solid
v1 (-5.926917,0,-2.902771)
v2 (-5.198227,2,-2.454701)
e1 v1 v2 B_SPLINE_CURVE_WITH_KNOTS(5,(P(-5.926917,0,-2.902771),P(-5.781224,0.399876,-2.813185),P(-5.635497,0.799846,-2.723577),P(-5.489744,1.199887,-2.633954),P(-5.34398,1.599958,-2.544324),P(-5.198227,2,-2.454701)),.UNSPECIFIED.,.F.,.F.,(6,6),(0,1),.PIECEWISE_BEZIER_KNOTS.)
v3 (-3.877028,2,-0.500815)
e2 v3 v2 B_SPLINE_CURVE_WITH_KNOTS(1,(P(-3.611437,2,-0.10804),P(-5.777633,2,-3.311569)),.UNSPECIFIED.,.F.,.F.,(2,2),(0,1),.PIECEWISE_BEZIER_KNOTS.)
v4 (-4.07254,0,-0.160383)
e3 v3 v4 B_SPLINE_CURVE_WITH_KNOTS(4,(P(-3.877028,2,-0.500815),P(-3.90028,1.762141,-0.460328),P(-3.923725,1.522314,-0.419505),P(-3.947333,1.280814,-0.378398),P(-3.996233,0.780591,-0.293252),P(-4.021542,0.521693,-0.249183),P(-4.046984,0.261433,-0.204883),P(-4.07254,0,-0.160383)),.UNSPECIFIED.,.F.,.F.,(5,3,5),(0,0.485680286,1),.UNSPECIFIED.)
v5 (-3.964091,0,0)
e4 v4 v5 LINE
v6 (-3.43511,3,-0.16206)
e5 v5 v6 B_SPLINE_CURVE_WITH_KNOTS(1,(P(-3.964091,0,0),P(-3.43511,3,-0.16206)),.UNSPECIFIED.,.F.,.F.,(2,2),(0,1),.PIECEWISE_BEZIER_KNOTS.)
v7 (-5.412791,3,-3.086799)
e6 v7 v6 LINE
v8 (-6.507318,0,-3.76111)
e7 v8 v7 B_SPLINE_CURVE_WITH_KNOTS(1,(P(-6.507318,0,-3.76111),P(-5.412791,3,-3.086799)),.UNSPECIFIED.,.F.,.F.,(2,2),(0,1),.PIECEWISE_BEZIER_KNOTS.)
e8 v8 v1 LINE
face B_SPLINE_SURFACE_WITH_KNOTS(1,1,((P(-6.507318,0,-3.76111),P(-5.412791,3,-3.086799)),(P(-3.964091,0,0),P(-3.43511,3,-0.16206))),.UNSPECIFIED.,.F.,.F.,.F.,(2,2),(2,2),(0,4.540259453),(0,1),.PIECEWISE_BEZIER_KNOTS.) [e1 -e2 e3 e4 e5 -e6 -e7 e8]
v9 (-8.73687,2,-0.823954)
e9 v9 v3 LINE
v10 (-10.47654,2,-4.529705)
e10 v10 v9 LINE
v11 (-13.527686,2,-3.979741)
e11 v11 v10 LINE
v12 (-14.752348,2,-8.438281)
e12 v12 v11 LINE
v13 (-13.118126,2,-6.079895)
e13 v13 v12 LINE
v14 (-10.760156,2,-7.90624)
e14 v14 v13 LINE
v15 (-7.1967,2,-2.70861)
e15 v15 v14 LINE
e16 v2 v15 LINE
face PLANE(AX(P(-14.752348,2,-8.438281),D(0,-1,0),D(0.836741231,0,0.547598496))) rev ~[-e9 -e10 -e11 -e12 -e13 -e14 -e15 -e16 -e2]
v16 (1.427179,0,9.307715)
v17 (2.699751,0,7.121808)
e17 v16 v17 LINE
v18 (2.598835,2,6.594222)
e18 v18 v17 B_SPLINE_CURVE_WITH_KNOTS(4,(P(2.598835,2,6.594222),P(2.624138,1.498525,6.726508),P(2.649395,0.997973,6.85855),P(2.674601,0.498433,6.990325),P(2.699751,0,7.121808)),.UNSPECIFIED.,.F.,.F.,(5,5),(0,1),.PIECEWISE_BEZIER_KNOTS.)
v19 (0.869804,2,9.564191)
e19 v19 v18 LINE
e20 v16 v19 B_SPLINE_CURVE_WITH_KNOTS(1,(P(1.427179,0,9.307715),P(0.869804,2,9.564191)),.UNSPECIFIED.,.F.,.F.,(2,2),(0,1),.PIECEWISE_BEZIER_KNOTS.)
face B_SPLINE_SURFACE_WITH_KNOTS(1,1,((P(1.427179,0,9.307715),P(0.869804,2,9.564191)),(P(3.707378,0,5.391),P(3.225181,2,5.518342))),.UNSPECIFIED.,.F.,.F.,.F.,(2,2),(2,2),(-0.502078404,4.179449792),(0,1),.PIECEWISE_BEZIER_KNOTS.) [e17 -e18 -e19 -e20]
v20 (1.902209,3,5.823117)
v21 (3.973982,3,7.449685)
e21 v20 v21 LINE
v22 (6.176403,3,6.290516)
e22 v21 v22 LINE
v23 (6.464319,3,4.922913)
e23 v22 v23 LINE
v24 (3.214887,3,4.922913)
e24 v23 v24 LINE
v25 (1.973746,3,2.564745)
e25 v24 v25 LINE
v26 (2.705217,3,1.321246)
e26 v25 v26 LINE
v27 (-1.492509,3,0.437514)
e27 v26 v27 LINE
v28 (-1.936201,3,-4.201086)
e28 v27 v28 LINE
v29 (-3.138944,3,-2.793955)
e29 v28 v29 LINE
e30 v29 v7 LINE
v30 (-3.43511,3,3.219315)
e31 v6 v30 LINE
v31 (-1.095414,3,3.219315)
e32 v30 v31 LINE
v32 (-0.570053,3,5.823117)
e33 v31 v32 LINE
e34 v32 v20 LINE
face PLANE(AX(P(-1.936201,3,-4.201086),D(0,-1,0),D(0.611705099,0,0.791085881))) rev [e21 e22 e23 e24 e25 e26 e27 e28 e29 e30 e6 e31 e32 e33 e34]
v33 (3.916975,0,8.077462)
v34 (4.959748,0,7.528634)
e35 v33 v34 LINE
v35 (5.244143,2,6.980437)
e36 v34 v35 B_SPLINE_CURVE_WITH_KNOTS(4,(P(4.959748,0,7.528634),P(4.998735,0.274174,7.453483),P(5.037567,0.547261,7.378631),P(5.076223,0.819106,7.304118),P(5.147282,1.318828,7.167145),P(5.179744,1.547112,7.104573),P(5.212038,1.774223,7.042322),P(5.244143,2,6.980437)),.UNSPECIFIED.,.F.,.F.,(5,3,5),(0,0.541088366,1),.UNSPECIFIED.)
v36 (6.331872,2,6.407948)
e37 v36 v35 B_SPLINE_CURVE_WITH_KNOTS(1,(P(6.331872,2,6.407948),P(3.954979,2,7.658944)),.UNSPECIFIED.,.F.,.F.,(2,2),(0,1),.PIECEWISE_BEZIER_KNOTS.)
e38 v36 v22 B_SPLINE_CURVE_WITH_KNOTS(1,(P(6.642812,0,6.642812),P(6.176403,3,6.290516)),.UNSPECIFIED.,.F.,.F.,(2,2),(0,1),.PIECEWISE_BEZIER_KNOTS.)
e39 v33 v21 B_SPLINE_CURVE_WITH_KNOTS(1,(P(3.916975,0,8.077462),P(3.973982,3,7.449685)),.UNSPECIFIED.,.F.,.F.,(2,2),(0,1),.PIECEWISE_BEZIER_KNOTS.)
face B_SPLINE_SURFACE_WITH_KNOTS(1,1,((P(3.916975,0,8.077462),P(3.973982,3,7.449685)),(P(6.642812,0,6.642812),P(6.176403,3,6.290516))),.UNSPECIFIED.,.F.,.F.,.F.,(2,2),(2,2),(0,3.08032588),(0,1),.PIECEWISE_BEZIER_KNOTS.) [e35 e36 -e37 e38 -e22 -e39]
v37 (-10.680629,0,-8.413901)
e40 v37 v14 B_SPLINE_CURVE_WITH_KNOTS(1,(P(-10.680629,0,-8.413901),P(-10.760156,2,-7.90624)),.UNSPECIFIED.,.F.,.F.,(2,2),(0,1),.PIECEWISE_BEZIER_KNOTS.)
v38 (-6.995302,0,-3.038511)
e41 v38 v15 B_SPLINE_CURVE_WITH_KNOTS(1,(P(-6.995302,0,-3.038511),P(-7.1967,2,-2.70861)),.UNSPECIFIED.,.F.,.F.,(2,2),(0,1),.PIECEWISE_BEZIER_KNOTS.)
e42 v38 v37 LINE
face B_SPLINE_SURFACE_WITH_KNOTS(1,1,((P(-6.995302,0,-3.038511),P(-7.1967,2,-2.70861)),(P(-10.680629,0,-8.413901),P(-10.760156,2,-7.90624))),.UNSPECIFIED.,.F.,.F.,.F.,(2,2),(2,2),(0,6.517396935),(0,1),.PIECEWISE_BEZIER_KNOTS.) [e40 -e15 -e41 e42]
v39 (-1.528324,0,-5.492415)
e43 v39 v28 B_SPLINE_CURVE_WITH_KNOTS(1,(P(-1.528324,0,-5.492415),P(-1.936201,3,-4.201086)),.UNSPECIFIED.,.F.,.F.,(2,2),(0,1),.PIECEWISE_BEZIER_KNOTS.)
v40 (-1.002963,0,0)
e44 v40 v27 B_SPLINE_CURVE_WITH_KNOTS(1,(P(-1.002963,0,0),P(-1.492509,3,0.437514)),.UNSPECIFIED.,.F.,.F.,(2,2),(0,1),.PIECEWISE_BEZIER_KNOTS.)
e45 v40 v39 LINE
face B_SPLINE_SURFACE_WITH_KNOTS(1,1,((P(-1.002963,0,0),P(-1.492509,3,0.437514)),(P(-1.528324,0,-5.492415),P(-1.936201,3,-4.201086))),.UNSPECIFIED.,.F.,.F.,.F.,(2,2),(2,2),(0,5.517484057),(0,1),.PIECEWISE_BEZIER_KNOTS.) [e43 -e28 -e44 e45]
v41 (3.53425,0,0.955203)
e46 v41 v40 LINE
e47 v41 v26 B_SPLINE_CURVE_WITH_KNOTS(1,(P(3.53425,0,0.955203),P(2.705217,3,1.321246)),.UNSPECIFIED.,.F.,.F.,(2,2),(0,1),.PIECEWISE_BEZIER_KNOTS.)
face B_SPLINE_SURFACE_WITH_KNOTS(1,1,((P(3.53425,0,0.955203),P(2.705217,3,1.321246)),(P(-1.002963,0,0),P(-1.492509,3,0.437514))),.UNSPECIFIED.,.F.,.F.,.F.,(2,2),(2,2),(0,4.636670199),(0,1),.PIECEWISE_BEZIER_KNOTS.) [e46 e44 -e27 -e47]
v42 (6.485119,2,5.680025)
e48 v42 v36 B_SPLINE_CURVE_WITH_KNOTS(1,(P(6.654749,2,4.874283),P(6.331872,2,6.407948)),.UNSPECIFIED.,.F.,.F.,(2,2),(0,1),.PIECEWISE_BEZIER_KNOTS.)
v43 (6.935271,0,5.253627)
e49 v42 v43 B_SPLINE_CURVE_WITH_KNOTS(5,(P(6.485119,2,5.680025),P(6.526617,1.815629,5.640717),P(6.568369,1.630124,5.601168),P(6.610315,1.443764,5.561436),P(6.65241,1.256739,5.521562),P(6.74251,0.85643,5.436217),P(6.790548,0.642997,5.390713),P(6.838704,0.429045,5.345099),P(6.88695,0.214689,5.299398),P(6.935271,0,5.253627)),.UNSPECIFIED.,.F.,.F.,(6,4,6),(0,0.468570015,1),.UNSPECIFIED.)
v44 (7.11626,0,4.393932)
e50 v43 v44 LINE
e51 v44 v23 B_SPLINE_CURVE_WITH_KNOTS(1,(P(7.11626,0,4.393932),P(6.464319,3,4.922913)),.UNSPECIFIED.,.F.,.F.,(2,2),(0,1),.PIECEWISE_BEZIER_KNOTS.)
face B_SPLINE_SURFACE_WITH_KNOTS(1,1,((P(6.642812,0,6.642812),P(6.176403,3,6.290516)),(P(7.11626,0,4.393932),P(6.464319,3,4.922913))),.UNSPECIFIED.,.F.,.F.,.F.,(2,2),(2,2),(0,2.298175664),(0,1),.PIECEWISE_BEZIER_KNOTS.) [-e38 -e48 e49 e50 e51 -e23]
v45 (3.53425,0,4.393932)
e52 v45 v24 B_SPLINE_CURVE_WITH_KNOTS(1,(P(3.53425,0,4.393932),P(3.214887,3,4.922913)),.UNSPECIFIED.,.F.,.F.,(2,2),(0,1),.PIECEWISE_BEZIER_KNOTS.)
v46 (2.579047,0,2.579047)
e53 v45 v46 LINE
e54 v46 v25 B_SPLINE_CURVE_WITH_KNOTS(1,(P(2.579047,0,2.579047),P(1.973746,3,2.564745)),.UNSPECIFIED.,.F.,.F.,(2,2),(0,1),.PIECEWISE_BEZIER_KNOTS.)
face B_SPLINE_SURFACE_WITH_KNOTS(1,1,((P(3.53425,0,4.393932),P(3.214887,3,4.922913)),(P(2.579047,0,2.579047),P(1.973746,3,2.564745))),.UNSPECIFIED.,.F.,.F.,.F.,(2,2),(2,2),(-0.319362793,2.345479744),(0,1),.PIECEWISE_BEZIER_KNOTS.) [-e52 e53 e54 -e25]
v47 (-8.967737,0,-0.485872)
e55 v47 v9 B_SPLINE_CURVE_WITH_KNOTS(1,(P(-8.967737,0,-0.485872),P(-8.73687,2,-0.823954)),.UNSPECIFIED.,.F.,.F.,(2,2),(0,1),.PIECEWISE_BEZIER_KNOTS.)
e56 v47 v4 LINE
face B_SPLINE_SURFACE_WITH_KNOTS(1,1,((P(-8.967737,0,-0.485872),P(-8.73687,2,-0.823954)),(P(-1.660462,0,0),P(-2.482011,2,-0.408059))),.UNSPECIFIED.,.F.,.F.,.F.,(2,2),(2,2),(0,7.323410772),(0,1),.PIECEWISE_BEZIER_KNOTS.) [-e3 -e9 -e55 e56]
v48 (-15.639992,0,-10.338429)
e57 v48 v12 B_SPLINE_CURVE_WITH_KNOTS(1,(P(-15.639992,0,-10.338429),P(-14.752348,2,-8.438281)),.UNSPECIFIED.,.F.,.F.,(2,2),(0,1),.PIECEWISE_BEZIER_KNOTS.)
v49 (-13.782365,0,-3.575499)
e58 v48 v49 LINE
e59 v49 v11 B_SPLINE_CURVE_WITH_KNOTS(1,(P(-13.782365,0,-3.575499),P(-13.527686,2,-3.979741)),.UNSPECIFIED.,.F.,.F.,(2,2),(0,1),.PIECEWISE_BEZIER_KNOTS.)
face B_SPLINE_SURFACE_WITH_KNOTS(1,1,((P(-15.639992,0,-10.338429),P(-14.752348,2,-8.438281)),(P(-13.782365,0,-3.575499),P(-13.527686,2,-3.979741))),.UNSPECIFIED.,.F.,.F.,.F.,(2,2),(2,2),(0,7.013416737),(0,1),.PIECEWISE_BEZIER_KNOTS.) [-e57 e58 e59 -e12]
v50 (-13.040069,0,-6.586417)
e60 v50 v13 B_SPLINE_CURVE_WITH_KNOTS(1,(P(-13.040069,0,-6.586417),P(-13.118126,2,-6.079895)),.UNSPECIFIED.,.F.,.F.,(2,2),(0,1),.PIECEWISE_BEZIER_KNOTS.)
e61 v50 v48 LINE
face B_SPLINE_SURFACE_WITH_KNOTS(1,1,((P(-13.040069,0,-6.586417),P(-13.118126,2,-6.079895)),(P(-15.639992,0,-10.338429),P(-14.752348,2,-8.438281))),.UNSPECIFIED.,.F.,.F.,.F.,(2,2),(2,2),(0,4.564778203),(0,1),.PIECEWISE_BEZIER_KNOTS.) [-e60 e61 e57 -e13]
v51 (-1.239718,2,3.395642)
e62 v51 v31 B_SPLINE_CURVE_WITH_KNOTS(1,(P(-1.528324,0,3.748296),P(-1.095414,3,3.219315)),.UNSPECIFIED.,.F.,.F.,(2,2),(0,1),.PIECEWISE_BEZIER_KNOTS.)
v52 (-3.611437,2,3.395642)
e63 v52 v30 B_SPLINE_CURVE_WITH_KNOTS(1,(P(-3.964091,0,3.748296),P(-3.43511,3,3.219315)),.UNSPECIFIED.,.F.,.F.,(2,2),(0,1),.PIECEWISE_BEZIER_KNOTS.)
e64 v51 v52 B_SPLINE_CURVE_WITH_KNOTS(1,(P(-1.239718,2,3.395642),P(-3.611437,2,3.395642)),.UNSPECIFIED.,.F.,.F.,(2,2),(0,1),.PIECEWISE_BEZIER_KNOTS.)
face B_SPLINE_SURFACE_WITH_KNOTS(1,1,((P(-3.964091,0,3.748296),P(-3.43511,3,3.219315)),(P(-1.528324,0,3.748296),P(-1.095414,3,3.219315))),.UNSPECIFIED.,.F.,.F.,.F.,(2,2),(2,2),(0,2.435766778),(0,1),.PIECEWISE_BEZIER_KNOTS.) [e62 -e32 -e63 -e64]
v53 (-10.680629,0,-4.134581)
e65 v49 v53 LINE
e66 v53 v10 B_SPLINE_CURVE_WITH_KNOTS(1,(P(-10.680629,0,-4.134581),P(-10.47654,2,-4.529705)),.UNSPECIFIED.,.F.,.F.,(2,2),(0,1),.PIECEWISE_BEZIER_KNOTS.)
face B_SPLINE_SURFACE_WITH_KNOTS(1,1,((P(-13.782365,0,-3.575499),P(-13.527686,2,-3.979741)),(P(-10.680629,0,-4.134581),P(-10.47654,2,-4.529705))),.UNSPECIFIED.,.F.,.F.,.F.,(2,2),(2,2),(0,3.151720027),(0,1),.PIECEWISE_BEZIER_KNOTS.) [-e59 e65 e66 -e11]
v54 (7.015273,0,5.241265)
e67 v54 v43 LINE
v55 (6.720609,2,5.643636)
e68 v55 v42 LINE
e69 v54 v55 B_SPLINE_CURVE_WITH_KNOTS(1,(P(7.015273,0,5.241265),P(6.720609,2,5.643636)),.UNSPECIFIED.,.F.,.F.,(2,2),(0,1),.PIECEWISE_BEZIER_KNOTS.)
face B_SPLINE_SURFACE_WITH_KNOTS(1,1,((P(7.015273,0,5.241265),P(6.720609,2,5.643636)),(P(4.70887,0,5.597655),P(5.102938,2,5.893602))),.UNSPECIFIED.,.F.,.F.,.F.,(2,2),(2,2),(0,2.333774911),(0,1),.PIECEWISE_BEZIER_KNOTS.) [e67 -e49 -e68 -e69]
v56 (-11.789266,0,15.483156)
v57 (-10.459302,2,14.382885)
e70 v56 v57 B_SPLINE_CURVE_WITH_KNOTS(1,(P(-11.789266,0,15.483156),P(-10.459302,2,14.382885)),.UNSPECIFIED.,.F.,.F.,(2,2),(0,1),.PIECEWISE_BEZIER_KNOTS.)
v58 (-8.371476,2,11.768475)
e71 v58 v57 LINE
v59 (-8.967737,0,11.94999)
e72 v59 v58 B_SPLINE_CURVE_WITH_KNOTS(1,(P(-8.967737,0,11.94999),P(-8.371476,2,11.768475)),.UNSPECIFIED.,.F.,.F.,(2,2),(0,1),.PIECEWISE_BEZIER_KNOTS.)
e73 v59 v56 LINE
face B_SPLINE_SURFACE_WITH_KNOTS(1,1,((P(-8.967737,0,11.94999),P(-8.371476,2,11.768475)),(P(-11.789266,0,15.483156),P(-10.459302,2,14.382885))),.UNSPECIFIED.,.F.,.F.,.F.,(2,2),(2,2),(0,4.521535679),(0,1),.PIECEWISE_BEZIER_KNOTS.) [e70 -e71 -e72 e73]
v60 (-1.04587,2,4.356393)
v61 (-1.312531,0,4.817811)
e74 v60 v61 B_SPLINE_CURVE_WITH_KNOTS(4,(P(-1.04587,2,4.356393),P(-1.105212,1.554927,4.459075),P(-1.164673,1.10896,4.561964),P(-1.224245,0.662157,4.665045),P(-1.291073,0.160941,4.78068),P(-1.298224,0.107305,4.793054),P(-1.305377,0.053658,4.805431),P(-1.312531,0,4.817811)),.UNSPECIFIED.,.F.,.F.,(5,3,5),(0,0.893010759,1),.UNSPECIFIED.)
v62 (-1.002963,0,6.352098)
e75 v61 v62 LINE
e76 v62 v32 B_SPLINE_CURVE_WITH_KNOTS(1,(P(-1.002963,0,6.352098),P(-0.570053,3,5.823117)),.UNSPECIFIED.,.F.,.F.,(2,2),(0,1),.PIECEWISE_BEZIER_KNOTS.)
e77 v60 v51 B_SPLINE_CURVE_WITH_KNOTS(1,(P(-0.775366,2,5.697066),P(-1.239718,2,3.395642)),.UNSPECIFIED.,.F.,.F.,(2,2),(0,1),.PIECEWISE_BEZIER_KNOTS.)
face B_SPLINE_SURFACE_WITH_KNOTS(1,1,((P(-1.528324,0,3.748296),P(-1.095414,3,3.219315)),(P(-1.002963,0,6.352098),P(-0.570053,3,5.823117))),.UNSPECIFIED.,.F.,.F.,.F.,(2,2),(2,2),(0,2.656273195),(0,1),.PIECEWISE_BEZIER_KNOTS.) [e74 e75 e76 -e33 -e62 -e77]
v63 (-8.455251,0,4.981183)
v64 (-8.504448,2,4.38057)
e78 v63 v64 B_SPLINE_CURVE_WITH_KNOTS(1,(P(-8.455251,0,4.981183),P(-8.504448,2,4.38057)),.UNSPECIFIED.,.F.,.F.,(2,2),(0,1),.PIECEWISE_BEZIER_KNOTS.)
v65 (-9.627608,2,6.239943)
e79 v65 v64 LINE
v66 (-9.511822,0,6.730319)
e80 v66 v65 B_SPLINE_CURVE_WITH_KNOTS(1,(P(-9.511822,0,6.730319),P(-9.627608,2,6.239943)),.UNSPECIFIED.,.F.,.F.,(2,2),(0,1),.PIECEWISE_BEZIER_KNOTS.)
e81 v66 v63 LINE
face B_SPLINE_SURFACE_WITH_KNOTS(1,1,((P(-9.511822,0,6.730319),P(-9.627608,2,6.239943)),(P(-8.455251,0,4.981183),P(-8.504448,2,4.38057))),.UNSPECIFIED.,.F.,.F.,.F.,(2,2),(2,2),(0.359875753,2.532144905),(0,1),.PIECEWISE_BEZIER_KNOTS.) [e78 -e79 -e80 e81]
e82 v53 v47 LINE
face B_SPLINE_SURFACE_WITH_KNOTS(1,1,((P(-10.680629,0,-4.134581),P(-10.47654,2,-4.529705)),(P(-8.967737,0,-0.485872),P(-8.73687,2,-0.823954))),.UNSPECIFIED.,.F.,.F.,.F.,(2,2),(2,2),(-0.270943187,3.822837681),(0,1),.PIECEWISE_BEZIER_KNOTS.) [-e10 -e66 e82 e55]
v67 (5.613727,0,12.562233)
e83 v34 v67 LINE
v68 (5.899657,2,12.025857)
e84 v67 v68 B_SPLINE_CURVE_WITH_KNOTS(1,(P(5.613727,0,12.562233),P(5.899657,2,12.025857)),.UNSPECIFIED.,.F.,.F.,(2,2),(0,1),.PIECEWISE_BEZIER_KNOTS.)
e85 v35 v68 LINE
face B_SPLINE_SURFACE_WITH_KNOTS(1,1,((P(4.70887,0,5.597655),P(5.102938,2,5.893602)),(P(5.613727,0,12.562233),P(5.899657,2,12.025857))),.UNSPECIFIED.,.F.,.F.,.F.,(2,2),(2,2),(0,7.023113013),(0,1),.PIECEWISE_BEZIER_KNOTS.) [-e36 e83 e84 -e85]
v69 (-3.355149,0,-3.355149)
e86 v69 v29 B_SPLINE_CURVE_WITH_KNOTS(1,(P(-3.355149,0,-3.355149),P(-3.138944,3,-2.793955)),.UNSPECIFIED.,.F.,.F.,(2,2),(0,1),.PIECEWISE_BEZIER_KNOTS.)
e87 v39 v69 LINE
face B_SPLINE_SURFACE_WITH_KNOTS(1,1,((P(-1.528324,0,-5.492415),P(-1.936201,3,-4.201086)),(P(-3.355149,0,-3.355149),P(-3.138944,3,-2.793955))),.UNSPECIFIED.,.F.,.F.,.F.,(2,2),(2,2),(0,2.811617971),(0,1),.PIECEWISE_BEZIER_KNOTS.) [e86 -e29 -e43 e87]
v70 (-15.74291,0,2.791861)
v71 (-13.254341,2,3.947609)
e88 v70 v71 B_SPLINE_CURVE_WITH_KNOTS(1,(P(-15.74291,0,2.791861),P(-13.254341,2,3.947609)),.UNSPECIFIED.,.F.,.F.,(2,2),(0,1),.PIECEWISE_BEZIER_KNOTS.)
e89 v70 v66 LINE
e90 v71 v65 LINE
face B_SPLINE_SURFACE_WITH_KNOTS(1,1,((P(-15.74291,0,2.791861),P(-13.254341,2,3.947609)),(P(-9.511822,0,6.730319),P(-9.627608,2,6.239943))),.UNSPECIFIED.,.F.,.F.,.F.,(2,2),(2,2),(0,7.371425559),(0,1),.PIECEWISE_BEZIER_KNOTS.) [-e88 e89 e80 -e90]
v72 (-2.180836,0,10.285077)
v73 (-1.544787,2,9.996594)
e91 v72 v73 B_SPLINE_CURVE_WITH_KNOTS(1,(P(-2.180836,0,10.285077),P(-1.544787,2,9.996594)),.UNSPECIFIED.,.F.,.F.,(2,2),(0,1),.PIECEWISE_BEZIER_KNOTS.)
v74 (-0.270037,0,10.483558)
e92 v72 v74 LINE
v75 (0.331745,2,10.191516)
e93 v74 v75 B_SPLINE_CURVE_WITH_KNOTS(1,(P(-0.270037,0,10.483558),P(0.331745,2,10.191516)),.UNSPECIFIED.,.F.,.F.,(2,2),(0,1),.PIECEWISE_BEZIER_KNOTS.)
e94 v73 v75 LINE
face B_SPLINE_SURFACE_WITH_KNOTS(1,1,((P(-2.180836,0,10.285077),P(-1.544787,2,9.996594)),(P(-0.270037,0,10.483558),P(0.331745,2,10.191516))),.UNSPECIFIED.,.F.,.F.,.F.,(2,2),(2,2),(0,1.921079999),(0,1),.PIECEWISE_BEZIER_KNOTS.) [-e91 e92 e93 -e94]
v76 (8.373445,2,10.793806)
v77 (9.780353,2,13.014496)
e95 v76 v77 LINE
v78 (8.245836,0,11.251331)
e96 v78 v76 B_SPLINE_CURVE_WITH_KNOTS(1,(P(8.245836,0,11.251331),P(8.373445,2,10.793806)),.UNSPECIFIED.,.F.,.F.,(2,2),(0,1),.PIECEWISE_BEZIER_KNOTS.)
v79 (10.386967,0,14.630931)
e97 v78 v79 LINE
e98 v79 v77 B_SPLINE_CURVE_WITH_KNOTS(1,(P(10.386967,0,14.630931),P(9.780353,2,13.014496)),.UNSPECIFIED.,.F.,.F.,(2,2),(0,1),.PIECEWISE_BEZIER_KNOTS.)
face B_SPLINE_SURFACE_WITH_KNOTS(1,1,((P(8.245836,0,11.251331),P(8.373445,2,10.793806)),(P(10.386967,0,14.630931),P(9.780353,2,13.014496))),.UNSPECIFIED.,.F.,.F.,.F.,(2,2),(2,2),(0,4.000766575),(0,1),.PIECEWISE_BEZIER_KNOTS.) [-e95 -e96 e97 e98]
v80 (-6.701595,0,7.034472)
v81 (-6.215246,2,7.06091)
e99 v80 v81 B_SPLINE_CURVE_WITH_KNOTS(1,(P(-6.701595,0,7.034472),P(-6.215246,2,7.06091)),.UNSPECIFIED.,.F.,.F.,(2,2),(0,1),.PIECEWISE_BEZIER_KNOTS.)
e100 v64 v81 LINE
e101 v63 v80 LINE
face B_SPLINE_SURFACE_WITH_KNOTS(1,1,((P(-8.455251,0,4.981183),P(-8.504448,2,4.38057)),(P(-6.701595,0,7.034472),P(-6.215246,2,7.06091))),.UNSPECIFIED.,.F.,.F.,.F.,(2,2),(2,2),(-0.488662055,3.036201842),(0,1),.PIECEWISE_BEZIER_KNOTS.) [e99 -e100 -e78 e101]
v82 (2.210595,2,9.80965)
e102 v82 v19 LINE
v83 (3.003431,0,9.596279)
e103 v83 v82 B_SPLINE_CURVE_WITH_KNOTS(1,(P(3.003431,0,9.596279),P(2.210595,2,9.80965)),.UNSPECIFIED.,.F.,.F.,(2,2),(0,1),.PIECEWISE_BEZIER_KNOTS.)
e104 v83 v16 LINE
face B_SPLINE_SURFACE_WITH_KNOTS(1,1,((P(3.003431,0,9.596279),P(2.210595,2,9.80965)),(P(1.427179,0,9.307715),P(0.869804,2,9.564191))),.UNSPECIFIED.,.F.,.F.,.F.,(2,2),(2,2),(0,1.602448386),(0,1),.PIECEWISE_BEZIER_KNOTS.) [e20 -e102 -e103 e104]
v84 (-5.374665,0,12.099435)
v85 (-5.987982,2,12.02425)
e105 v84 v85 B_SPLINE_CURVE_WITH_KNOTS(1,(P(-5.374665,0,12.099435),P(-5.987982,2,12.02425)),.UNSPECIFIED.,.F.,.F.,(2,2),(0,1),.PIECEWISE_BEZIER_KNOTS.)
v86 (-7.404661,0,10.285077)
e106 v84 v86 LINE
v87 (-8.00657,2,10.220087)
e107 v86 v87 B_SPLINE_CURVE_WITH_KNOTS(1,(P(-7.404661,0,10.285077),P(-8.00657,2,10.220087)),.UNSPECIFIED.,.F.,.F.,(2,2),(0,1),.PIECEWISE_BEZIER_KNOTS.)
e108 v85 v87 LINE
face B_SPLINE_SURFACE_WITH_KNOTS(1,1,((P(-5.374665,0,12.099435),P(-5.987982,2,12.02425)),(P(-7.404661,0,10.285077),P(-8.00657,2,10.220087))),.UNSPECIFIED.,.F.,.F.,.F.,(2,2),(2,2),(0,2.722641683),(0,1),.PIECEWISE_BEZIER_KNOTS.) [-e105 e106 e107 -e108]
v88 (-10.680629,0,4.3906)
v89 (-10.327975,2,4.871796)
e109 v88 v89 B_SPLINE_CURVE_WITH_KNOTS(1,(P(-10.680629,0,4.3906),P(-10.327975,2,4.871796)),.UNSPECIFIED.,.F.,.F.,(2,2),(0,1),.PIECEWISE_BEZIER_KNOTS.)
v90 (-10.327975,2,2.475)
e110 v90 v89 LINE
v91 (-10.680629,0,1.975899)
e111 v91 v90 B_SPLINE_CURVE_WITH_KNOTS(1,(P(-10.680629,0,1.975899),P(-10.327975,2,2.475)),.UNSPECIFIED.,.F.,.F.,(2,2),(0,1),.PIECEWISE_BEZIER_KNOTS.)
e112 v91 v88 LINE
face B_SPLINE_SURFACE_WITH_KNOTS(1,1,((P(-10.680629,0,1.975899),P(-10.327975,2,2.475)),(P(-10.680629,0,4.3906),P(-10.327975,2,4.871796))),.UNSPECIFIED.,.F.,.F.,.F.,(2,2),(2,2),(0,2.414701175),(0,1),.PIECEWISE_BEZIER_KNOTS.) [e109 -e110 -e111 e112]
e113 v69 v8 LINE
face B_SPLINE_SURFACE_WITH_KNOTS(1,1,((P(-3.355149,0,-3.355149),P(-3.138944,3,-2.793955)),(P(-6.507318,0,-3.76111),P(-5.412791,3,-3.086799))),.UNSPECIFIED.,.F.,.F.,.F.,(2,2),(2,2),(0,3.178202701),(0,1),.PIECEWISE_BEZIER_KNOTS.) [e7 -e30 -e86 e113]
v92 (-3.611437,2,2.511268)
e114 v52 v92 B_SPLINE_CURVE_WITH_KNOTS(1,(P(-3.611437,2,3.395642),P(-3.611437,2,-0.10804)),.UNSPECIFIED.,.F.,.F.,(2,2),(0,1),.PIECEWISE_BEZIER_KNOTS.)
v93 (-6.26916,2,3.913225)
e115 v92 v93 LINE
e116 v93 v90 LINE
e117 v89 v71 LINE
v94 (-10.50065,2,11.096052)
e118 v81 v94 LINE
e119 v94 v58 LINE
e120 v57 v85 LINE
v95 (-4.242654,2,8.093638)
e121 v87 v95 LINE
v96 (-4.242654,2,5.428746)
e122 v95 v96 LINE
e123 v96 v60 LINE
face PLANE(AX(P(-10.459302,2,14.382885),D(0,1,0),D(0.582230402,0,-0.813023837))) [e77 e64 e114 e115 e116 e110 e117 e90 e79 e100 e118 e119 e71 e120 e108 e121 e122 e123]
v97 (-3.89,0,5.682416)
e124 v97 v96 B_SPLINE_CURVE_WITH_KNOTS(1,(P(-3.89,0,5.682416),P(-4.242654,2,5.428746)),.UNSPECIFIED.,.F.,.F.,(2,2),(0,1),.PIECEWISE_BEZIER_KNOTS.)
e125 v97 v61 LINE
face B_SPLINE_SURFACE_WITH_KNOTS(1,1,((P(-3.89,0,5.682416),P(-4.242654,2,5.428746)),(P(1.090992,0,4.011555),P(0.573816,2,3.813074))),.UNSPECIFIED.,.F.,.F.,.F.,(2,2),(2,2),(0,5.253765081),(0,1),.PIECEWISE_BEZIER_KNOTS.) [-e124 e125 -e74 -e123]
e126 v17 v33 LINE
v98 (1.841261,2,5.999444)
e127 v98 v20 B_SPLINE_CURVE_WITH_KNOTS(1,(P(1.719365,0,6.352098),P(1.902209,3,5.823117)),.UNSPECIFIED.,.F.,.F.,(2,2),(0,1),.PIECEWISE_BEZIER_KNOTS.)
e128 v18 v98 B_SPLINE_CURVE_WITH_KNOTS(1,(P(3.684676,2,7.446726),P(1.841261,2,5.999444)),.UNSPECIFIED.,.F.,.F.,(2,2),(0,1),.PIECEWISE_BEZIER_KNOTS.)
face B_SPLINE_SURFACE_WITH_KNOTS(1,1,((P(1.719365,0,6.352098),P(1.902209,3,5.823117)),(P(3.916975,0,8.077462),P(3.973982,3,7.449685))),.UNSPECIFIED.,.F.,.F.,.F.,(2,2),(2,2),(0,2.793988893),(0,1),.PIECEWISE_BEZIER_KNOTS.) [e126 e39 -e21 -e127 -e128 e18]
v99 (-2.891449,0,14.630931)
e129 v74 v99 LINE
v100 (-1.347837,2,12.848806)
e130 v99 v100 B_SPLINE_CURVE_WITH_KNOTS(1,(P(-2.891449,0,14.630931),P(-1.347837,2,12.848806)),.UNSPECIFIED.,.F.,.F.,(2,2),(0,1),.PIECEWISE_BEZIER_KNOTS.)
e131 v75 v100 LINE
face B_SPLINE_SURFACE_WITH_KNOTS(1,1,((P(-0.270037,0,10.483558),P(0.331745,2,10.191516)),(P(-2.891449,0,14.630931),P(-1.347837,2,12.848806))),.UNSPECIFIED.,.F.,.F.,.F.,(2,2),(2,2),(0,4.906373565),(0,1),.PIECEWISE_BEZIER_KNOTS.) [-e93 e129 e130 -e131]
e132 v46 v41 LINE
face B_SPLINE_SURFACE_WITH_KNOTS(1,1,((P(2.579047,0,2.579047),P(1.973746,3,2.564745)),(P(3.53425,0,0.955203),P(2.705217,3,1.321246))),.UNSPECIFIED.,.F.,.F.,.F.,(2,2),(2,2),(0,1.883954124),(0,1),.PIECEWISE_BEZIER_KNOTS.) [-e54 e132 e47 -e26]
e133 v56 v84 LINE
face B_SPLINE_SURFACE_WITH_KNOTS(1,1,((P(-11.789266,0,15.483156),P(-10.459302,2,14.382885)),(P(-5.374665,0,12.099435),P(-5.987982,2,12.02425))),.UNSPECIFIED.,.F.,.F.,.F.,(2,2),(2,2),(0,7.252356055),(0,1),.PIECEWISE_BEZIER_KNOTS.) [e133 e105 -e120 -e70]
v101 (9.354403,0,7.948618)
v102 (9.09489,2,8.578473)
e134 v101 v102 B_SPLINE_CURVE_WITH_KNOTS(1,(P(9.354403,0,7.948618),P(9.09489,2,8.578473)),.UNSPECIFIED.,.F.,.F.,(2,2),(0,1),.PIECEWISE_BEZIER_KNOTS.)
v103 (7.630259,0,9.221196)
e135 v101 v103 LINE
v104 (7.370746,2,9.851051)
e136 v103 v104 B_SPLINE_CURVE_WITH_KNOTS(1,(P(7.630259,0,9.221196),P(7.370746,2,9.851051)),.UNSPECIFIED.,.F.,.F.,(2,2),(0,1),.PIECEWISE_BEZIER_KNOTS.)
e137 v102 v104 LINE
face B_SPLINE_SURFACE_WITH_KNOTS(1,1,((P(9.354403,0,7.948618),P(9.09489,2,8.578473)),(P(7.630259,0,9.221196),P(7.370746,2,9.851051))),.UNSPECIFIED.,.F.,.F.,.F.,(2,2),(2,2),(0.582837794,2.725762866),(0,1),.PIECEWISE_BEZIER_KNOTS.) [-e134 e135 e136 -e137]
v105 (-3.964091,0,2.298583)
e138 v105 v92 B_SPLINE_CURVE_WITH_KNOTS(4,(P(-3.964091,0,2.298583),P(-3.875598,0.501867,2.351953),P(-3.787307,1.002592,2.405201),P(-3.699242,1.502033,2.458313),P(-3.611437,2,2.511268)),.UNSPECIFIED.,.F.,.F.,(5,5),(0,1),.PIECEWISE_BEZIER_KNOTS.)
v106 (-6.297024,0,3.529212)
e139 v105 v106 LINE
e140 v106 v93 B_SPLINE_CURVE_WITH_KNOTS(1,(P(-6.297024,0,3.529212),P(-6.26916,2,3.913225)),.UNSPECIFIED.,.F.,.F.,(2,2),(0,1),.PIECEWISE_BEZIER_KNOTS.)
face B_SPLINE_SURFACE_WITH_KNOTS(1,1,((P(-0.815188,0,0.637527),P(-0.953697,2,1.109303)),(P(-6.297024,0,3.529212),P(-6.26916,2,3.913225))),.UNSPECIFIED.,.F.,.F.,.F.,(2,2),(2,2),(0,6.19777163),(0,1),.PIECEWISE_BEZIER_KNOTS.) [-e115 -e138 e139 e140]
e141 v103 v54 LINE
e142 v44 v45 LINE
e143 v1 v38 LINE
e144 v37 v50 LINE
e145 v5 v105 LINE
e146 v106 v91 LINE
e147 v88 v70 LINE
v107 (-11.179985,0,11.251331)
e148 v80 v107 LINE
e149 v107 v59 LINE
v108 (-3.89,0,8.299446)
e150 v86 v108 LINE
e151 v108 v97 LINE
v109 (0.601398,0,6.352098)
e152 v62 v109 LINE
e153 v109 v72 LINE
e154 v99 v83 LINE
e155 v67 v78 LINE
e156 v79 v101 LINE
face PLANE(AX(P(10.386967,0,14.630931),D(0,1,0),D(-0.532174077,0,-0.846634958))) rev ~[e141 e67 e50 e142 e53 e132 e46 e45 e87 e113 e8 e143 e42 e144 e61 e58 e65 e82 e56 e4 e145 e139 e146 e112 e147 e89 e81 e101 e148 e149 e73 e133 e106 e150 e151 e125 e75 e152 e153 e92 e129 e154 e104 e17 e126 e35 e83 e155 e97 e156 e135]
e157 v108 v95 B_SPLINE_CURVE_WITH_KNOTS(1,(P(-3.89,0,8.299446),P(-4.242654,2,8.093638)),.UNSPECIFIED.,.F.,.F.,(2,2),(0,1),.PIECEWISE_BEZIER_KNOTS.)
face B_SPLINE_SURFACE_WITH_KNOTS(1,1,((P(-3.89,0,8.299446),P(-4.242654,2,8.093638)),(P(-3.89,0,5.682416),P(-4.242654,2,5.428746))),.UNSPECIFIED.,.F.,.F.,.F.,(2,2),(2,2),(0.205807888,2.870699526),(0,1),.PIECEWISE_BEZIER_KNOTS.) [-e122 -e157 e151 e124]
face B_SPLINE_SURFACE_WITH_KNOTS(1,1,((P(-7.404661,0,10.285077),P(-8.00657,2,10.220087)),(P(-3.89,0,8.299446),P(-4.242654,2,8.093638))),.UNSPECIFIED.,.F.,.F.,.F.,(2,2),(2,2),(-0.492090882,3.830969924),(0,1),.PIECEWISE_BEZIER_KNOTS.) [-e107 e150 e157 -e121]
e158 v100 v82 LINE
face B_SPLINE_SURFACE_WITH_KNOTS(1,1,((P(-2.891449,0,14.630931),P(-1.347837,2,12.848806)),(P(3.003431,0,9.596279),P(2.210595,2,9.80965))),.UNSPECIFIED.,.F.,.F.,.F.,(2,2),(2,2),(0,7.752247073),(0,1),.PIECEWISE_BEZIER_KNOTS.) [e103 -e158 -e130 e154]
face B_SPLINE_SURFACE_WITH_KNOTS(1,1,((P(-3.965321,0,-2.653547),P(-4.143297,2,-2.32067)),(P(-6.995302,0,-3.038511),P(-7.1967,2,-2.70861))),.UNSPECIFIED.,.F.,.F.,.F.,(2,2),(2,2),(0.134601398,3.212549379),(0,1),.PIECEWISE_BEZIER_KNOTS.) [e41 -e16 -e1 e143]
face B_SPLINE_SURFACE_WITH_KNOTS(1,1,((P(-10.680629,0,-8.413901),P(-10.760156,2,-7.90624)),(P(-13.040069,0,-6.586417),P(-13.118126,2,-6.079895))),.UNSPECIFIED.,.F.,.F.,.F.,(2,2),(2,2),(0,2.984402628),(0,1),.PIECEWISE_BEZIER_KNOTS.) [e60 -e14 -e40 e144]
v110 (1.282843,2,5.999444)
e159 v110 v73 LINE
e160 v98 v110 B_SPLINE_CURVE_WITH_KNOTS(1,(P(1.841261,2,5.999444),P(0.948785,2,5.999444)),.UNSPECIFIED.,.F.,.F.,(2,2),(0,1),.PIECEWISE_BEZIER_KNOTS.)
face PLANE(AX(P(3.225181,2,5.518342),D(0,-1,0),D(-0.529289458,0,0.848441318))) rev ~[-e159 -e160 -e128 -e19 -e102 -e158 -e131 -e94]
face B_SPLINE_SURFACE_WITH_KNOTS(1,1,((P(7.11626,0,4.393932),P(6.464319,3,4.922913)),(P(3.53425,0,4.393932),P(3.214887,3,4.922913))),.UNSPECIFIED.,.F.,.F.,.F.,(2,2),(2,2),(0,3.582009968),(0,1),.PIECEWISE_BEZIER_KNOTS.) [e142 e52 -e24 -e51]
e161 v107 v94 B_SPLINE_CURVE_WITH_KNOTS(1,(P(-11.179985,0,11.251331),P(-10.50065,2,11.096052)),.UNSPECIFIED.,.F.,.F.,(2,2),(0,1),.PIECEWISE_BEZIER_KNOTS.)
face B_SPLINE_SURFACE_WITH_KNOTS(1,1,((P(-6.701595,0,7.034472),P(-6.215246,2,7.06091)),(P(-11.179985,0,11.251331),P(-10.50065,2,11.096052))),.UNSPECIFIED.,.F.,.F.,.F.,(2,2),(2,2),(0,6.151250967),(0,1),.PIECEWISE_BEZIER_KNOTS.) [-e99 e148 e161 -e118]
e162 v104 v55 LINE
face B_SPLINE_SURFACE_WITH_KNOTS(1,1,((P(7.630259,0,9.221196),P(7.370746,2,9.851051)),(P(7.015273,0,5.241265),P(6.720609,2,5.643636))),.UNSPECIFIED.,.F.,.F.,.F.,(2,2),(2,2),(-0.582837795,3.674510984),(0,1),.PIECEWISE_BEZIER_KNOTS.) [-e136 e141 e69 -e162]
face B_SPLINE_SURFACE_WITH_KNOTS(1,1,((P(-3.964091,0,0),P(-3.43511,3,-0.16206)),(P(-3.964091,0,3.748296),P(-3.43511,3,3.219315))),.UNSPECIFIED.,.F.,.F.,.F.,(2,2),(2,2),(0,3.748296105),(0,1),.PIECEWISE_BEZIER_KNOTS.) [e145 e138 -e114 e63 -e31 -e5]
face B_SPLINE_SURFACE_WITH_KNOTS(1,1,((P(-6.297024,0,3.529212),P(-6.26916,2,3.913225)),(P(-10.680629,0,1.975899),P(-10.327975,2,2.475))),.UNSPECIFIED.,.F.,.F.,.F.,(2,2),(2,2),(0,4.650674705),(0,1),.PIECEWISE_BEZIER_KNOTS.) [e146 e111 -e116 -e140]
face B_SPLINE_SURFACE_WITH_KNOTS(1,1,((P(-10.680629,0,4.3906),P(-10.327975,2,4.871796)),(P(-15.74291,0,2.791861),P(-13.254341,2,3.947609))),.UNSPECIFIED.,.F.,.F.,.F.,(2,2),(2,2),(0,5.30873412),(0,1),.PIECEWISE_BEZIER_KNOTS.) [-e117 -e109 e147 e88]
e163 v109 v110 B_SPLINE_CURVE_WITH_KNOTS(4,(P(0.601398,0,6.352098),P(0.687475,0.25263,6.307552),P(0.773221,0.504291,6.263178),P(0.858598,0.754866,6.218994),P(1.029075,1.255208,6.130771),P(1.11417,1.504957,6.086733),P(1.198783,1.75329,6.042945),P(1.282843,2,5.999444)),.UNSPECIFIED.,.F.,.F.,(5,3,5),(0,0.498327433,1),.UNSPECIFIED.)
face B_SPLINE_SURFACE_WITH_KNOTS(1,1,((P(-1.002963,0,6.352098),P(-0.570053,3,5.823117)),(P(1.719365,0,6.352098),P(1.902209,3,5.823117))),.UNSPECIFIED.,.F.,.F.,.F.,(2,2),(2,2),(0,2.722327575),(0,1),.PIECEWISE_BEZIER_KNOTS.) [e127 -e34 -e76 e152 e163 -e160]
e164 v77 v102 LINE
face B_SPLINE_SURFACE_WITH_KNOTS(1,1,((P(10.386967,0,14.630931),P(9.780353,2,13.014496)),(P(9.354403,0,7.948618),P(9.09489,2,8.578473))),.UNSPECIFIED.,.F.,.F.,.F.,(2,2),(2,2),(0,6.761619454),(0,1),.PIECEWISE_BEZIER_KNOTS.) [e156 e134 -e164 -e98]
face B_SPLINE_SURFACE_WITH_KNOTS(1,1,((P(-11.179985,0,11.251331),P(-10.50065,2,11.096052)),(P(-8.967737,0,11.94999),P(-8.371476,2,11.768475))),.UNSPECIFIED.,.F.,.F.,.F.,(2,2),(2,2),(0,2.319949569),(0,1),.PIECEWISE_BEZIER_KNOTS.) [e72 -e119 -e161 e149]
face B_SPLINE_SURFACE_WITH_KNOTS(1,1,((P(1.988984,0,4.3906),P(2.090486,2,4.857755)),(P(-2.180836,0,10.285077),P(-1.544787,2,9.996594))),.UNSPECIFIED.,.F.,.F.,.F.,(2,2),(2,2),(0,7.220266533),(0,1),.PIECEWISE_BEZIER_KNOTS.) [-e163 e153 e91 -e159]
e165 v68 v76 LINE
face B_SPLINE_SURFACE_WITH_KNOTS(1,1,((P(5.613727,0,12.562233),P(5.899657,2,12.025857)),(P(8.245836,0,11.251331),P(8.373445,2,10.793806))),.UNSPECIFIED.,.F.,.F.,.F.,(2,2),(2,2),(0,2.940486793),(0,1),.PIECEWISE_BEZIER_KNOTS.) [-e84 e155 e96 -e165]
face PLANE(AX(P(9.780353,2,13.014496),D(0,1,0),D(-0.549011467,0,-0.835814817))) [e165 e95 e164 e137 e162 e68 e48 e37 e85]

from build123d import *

# Parameters (mm, degrees)
BOSS_EXTRUDE1_DEPTH = 3
BOSS_EXTRUDE1_TAPER = 10
BOSS_EXTRUDE2_DEPTH = 2
BOSS_EXTRUDE2_TAPER = 10


with BuildPart() as part:
    # Sketch2 → Boss-Extrude1 (new body)
    with BuildSketch(Plane(origin=(0, 0, 0), x_dir=(1, 0, 0), z_dir=(0, 1, 0))):
        Polygon((-1.528324253, 5.492415284), (-3.355149336, 3.355149336), (-6.507318108, 3.761110466), (-3.964091031, 0), (-3.964091031, -3.748296105), (-1.528324253, -3.748296105), (-1.002962791, -6.352097676), (1.719364784, -6.352097676), (3.916975027, -8.077462319), (6.642811529, -6.642811529), (7.116259803, -4.393932227), (3.534249835, -4.393932227), (2.579047177, -2.579047177), (3.534249835, -0.955202658), (-1.002962791, 0), align=None)
    extrude(amount=BOSS_EXTRUDE1_DEPTH, taper=BOSS_EXTRUDE1_TAPER)

    # Sketch3 → Boss-Extrude2 (add)
    with BuildSketch(Plane(origin=(0, 0, 0), x_dir=(1, 0, 0), z_dir=(0, 1, 0))):
        Polygon((10.386967226, -14.630930723), (9.354403277, -7.948617551), (7.630259288, -9.221195787), (7.015272692, -5.241265011), (4.708870367, -5.597654757), (5.613726928, -12.562233064), (8.245836253, -11.251331436), align=None)
        Polygon((3.707378368, -5.391000258), (1.988983683, -4.390600081), (-2.180835877, -10.285076618), (-0.270036733, -10.483558335), (-2.891449297, -14.630930723), (3.003431491, -9.596279278), (1.427179104, -9.307715176), align=None)
        Polygon((-11.789266005, -15.483155877), (-5.37466541, -12.099434913), (-7.404660906, -10.285076618), (-3.889999551, -8.299445569), (-3.889999551, -5.68241554), (1.090991617, -4.01155513), (-0.815187592, -0.637527311), (-6.297024016, -3.52921239), (-10.680628975, -1.975898906), (-10.680628975, -4.390600081), (-15.742910277, -2.79186121), (-9.511821995, -6.730319487), (-8.455251073, -4.981182544), (-6.701594742, -7.03447166), (-11.179985311, -11.251331436), (-8.967737144, -11.949990188), align=None)
        Polygon((-15.639992384, 10.338429497), (-13.782364953, 3.575498575), (-10.680628975, 4.134580902), (-8.967737144, 0.485871688), (-1.660461726, 0), (-3.965321164, 2.653546974), (-6.995301565, 3.038510834), (-10.680628975, 8.413901489), (-13.040069267, 6.586416727), align=None)
    extrude(amount=BOSS_EXTRUDE2_DEPTH, taper=BOSS_EXTRUDE2_TAPER)


solid = part.part
